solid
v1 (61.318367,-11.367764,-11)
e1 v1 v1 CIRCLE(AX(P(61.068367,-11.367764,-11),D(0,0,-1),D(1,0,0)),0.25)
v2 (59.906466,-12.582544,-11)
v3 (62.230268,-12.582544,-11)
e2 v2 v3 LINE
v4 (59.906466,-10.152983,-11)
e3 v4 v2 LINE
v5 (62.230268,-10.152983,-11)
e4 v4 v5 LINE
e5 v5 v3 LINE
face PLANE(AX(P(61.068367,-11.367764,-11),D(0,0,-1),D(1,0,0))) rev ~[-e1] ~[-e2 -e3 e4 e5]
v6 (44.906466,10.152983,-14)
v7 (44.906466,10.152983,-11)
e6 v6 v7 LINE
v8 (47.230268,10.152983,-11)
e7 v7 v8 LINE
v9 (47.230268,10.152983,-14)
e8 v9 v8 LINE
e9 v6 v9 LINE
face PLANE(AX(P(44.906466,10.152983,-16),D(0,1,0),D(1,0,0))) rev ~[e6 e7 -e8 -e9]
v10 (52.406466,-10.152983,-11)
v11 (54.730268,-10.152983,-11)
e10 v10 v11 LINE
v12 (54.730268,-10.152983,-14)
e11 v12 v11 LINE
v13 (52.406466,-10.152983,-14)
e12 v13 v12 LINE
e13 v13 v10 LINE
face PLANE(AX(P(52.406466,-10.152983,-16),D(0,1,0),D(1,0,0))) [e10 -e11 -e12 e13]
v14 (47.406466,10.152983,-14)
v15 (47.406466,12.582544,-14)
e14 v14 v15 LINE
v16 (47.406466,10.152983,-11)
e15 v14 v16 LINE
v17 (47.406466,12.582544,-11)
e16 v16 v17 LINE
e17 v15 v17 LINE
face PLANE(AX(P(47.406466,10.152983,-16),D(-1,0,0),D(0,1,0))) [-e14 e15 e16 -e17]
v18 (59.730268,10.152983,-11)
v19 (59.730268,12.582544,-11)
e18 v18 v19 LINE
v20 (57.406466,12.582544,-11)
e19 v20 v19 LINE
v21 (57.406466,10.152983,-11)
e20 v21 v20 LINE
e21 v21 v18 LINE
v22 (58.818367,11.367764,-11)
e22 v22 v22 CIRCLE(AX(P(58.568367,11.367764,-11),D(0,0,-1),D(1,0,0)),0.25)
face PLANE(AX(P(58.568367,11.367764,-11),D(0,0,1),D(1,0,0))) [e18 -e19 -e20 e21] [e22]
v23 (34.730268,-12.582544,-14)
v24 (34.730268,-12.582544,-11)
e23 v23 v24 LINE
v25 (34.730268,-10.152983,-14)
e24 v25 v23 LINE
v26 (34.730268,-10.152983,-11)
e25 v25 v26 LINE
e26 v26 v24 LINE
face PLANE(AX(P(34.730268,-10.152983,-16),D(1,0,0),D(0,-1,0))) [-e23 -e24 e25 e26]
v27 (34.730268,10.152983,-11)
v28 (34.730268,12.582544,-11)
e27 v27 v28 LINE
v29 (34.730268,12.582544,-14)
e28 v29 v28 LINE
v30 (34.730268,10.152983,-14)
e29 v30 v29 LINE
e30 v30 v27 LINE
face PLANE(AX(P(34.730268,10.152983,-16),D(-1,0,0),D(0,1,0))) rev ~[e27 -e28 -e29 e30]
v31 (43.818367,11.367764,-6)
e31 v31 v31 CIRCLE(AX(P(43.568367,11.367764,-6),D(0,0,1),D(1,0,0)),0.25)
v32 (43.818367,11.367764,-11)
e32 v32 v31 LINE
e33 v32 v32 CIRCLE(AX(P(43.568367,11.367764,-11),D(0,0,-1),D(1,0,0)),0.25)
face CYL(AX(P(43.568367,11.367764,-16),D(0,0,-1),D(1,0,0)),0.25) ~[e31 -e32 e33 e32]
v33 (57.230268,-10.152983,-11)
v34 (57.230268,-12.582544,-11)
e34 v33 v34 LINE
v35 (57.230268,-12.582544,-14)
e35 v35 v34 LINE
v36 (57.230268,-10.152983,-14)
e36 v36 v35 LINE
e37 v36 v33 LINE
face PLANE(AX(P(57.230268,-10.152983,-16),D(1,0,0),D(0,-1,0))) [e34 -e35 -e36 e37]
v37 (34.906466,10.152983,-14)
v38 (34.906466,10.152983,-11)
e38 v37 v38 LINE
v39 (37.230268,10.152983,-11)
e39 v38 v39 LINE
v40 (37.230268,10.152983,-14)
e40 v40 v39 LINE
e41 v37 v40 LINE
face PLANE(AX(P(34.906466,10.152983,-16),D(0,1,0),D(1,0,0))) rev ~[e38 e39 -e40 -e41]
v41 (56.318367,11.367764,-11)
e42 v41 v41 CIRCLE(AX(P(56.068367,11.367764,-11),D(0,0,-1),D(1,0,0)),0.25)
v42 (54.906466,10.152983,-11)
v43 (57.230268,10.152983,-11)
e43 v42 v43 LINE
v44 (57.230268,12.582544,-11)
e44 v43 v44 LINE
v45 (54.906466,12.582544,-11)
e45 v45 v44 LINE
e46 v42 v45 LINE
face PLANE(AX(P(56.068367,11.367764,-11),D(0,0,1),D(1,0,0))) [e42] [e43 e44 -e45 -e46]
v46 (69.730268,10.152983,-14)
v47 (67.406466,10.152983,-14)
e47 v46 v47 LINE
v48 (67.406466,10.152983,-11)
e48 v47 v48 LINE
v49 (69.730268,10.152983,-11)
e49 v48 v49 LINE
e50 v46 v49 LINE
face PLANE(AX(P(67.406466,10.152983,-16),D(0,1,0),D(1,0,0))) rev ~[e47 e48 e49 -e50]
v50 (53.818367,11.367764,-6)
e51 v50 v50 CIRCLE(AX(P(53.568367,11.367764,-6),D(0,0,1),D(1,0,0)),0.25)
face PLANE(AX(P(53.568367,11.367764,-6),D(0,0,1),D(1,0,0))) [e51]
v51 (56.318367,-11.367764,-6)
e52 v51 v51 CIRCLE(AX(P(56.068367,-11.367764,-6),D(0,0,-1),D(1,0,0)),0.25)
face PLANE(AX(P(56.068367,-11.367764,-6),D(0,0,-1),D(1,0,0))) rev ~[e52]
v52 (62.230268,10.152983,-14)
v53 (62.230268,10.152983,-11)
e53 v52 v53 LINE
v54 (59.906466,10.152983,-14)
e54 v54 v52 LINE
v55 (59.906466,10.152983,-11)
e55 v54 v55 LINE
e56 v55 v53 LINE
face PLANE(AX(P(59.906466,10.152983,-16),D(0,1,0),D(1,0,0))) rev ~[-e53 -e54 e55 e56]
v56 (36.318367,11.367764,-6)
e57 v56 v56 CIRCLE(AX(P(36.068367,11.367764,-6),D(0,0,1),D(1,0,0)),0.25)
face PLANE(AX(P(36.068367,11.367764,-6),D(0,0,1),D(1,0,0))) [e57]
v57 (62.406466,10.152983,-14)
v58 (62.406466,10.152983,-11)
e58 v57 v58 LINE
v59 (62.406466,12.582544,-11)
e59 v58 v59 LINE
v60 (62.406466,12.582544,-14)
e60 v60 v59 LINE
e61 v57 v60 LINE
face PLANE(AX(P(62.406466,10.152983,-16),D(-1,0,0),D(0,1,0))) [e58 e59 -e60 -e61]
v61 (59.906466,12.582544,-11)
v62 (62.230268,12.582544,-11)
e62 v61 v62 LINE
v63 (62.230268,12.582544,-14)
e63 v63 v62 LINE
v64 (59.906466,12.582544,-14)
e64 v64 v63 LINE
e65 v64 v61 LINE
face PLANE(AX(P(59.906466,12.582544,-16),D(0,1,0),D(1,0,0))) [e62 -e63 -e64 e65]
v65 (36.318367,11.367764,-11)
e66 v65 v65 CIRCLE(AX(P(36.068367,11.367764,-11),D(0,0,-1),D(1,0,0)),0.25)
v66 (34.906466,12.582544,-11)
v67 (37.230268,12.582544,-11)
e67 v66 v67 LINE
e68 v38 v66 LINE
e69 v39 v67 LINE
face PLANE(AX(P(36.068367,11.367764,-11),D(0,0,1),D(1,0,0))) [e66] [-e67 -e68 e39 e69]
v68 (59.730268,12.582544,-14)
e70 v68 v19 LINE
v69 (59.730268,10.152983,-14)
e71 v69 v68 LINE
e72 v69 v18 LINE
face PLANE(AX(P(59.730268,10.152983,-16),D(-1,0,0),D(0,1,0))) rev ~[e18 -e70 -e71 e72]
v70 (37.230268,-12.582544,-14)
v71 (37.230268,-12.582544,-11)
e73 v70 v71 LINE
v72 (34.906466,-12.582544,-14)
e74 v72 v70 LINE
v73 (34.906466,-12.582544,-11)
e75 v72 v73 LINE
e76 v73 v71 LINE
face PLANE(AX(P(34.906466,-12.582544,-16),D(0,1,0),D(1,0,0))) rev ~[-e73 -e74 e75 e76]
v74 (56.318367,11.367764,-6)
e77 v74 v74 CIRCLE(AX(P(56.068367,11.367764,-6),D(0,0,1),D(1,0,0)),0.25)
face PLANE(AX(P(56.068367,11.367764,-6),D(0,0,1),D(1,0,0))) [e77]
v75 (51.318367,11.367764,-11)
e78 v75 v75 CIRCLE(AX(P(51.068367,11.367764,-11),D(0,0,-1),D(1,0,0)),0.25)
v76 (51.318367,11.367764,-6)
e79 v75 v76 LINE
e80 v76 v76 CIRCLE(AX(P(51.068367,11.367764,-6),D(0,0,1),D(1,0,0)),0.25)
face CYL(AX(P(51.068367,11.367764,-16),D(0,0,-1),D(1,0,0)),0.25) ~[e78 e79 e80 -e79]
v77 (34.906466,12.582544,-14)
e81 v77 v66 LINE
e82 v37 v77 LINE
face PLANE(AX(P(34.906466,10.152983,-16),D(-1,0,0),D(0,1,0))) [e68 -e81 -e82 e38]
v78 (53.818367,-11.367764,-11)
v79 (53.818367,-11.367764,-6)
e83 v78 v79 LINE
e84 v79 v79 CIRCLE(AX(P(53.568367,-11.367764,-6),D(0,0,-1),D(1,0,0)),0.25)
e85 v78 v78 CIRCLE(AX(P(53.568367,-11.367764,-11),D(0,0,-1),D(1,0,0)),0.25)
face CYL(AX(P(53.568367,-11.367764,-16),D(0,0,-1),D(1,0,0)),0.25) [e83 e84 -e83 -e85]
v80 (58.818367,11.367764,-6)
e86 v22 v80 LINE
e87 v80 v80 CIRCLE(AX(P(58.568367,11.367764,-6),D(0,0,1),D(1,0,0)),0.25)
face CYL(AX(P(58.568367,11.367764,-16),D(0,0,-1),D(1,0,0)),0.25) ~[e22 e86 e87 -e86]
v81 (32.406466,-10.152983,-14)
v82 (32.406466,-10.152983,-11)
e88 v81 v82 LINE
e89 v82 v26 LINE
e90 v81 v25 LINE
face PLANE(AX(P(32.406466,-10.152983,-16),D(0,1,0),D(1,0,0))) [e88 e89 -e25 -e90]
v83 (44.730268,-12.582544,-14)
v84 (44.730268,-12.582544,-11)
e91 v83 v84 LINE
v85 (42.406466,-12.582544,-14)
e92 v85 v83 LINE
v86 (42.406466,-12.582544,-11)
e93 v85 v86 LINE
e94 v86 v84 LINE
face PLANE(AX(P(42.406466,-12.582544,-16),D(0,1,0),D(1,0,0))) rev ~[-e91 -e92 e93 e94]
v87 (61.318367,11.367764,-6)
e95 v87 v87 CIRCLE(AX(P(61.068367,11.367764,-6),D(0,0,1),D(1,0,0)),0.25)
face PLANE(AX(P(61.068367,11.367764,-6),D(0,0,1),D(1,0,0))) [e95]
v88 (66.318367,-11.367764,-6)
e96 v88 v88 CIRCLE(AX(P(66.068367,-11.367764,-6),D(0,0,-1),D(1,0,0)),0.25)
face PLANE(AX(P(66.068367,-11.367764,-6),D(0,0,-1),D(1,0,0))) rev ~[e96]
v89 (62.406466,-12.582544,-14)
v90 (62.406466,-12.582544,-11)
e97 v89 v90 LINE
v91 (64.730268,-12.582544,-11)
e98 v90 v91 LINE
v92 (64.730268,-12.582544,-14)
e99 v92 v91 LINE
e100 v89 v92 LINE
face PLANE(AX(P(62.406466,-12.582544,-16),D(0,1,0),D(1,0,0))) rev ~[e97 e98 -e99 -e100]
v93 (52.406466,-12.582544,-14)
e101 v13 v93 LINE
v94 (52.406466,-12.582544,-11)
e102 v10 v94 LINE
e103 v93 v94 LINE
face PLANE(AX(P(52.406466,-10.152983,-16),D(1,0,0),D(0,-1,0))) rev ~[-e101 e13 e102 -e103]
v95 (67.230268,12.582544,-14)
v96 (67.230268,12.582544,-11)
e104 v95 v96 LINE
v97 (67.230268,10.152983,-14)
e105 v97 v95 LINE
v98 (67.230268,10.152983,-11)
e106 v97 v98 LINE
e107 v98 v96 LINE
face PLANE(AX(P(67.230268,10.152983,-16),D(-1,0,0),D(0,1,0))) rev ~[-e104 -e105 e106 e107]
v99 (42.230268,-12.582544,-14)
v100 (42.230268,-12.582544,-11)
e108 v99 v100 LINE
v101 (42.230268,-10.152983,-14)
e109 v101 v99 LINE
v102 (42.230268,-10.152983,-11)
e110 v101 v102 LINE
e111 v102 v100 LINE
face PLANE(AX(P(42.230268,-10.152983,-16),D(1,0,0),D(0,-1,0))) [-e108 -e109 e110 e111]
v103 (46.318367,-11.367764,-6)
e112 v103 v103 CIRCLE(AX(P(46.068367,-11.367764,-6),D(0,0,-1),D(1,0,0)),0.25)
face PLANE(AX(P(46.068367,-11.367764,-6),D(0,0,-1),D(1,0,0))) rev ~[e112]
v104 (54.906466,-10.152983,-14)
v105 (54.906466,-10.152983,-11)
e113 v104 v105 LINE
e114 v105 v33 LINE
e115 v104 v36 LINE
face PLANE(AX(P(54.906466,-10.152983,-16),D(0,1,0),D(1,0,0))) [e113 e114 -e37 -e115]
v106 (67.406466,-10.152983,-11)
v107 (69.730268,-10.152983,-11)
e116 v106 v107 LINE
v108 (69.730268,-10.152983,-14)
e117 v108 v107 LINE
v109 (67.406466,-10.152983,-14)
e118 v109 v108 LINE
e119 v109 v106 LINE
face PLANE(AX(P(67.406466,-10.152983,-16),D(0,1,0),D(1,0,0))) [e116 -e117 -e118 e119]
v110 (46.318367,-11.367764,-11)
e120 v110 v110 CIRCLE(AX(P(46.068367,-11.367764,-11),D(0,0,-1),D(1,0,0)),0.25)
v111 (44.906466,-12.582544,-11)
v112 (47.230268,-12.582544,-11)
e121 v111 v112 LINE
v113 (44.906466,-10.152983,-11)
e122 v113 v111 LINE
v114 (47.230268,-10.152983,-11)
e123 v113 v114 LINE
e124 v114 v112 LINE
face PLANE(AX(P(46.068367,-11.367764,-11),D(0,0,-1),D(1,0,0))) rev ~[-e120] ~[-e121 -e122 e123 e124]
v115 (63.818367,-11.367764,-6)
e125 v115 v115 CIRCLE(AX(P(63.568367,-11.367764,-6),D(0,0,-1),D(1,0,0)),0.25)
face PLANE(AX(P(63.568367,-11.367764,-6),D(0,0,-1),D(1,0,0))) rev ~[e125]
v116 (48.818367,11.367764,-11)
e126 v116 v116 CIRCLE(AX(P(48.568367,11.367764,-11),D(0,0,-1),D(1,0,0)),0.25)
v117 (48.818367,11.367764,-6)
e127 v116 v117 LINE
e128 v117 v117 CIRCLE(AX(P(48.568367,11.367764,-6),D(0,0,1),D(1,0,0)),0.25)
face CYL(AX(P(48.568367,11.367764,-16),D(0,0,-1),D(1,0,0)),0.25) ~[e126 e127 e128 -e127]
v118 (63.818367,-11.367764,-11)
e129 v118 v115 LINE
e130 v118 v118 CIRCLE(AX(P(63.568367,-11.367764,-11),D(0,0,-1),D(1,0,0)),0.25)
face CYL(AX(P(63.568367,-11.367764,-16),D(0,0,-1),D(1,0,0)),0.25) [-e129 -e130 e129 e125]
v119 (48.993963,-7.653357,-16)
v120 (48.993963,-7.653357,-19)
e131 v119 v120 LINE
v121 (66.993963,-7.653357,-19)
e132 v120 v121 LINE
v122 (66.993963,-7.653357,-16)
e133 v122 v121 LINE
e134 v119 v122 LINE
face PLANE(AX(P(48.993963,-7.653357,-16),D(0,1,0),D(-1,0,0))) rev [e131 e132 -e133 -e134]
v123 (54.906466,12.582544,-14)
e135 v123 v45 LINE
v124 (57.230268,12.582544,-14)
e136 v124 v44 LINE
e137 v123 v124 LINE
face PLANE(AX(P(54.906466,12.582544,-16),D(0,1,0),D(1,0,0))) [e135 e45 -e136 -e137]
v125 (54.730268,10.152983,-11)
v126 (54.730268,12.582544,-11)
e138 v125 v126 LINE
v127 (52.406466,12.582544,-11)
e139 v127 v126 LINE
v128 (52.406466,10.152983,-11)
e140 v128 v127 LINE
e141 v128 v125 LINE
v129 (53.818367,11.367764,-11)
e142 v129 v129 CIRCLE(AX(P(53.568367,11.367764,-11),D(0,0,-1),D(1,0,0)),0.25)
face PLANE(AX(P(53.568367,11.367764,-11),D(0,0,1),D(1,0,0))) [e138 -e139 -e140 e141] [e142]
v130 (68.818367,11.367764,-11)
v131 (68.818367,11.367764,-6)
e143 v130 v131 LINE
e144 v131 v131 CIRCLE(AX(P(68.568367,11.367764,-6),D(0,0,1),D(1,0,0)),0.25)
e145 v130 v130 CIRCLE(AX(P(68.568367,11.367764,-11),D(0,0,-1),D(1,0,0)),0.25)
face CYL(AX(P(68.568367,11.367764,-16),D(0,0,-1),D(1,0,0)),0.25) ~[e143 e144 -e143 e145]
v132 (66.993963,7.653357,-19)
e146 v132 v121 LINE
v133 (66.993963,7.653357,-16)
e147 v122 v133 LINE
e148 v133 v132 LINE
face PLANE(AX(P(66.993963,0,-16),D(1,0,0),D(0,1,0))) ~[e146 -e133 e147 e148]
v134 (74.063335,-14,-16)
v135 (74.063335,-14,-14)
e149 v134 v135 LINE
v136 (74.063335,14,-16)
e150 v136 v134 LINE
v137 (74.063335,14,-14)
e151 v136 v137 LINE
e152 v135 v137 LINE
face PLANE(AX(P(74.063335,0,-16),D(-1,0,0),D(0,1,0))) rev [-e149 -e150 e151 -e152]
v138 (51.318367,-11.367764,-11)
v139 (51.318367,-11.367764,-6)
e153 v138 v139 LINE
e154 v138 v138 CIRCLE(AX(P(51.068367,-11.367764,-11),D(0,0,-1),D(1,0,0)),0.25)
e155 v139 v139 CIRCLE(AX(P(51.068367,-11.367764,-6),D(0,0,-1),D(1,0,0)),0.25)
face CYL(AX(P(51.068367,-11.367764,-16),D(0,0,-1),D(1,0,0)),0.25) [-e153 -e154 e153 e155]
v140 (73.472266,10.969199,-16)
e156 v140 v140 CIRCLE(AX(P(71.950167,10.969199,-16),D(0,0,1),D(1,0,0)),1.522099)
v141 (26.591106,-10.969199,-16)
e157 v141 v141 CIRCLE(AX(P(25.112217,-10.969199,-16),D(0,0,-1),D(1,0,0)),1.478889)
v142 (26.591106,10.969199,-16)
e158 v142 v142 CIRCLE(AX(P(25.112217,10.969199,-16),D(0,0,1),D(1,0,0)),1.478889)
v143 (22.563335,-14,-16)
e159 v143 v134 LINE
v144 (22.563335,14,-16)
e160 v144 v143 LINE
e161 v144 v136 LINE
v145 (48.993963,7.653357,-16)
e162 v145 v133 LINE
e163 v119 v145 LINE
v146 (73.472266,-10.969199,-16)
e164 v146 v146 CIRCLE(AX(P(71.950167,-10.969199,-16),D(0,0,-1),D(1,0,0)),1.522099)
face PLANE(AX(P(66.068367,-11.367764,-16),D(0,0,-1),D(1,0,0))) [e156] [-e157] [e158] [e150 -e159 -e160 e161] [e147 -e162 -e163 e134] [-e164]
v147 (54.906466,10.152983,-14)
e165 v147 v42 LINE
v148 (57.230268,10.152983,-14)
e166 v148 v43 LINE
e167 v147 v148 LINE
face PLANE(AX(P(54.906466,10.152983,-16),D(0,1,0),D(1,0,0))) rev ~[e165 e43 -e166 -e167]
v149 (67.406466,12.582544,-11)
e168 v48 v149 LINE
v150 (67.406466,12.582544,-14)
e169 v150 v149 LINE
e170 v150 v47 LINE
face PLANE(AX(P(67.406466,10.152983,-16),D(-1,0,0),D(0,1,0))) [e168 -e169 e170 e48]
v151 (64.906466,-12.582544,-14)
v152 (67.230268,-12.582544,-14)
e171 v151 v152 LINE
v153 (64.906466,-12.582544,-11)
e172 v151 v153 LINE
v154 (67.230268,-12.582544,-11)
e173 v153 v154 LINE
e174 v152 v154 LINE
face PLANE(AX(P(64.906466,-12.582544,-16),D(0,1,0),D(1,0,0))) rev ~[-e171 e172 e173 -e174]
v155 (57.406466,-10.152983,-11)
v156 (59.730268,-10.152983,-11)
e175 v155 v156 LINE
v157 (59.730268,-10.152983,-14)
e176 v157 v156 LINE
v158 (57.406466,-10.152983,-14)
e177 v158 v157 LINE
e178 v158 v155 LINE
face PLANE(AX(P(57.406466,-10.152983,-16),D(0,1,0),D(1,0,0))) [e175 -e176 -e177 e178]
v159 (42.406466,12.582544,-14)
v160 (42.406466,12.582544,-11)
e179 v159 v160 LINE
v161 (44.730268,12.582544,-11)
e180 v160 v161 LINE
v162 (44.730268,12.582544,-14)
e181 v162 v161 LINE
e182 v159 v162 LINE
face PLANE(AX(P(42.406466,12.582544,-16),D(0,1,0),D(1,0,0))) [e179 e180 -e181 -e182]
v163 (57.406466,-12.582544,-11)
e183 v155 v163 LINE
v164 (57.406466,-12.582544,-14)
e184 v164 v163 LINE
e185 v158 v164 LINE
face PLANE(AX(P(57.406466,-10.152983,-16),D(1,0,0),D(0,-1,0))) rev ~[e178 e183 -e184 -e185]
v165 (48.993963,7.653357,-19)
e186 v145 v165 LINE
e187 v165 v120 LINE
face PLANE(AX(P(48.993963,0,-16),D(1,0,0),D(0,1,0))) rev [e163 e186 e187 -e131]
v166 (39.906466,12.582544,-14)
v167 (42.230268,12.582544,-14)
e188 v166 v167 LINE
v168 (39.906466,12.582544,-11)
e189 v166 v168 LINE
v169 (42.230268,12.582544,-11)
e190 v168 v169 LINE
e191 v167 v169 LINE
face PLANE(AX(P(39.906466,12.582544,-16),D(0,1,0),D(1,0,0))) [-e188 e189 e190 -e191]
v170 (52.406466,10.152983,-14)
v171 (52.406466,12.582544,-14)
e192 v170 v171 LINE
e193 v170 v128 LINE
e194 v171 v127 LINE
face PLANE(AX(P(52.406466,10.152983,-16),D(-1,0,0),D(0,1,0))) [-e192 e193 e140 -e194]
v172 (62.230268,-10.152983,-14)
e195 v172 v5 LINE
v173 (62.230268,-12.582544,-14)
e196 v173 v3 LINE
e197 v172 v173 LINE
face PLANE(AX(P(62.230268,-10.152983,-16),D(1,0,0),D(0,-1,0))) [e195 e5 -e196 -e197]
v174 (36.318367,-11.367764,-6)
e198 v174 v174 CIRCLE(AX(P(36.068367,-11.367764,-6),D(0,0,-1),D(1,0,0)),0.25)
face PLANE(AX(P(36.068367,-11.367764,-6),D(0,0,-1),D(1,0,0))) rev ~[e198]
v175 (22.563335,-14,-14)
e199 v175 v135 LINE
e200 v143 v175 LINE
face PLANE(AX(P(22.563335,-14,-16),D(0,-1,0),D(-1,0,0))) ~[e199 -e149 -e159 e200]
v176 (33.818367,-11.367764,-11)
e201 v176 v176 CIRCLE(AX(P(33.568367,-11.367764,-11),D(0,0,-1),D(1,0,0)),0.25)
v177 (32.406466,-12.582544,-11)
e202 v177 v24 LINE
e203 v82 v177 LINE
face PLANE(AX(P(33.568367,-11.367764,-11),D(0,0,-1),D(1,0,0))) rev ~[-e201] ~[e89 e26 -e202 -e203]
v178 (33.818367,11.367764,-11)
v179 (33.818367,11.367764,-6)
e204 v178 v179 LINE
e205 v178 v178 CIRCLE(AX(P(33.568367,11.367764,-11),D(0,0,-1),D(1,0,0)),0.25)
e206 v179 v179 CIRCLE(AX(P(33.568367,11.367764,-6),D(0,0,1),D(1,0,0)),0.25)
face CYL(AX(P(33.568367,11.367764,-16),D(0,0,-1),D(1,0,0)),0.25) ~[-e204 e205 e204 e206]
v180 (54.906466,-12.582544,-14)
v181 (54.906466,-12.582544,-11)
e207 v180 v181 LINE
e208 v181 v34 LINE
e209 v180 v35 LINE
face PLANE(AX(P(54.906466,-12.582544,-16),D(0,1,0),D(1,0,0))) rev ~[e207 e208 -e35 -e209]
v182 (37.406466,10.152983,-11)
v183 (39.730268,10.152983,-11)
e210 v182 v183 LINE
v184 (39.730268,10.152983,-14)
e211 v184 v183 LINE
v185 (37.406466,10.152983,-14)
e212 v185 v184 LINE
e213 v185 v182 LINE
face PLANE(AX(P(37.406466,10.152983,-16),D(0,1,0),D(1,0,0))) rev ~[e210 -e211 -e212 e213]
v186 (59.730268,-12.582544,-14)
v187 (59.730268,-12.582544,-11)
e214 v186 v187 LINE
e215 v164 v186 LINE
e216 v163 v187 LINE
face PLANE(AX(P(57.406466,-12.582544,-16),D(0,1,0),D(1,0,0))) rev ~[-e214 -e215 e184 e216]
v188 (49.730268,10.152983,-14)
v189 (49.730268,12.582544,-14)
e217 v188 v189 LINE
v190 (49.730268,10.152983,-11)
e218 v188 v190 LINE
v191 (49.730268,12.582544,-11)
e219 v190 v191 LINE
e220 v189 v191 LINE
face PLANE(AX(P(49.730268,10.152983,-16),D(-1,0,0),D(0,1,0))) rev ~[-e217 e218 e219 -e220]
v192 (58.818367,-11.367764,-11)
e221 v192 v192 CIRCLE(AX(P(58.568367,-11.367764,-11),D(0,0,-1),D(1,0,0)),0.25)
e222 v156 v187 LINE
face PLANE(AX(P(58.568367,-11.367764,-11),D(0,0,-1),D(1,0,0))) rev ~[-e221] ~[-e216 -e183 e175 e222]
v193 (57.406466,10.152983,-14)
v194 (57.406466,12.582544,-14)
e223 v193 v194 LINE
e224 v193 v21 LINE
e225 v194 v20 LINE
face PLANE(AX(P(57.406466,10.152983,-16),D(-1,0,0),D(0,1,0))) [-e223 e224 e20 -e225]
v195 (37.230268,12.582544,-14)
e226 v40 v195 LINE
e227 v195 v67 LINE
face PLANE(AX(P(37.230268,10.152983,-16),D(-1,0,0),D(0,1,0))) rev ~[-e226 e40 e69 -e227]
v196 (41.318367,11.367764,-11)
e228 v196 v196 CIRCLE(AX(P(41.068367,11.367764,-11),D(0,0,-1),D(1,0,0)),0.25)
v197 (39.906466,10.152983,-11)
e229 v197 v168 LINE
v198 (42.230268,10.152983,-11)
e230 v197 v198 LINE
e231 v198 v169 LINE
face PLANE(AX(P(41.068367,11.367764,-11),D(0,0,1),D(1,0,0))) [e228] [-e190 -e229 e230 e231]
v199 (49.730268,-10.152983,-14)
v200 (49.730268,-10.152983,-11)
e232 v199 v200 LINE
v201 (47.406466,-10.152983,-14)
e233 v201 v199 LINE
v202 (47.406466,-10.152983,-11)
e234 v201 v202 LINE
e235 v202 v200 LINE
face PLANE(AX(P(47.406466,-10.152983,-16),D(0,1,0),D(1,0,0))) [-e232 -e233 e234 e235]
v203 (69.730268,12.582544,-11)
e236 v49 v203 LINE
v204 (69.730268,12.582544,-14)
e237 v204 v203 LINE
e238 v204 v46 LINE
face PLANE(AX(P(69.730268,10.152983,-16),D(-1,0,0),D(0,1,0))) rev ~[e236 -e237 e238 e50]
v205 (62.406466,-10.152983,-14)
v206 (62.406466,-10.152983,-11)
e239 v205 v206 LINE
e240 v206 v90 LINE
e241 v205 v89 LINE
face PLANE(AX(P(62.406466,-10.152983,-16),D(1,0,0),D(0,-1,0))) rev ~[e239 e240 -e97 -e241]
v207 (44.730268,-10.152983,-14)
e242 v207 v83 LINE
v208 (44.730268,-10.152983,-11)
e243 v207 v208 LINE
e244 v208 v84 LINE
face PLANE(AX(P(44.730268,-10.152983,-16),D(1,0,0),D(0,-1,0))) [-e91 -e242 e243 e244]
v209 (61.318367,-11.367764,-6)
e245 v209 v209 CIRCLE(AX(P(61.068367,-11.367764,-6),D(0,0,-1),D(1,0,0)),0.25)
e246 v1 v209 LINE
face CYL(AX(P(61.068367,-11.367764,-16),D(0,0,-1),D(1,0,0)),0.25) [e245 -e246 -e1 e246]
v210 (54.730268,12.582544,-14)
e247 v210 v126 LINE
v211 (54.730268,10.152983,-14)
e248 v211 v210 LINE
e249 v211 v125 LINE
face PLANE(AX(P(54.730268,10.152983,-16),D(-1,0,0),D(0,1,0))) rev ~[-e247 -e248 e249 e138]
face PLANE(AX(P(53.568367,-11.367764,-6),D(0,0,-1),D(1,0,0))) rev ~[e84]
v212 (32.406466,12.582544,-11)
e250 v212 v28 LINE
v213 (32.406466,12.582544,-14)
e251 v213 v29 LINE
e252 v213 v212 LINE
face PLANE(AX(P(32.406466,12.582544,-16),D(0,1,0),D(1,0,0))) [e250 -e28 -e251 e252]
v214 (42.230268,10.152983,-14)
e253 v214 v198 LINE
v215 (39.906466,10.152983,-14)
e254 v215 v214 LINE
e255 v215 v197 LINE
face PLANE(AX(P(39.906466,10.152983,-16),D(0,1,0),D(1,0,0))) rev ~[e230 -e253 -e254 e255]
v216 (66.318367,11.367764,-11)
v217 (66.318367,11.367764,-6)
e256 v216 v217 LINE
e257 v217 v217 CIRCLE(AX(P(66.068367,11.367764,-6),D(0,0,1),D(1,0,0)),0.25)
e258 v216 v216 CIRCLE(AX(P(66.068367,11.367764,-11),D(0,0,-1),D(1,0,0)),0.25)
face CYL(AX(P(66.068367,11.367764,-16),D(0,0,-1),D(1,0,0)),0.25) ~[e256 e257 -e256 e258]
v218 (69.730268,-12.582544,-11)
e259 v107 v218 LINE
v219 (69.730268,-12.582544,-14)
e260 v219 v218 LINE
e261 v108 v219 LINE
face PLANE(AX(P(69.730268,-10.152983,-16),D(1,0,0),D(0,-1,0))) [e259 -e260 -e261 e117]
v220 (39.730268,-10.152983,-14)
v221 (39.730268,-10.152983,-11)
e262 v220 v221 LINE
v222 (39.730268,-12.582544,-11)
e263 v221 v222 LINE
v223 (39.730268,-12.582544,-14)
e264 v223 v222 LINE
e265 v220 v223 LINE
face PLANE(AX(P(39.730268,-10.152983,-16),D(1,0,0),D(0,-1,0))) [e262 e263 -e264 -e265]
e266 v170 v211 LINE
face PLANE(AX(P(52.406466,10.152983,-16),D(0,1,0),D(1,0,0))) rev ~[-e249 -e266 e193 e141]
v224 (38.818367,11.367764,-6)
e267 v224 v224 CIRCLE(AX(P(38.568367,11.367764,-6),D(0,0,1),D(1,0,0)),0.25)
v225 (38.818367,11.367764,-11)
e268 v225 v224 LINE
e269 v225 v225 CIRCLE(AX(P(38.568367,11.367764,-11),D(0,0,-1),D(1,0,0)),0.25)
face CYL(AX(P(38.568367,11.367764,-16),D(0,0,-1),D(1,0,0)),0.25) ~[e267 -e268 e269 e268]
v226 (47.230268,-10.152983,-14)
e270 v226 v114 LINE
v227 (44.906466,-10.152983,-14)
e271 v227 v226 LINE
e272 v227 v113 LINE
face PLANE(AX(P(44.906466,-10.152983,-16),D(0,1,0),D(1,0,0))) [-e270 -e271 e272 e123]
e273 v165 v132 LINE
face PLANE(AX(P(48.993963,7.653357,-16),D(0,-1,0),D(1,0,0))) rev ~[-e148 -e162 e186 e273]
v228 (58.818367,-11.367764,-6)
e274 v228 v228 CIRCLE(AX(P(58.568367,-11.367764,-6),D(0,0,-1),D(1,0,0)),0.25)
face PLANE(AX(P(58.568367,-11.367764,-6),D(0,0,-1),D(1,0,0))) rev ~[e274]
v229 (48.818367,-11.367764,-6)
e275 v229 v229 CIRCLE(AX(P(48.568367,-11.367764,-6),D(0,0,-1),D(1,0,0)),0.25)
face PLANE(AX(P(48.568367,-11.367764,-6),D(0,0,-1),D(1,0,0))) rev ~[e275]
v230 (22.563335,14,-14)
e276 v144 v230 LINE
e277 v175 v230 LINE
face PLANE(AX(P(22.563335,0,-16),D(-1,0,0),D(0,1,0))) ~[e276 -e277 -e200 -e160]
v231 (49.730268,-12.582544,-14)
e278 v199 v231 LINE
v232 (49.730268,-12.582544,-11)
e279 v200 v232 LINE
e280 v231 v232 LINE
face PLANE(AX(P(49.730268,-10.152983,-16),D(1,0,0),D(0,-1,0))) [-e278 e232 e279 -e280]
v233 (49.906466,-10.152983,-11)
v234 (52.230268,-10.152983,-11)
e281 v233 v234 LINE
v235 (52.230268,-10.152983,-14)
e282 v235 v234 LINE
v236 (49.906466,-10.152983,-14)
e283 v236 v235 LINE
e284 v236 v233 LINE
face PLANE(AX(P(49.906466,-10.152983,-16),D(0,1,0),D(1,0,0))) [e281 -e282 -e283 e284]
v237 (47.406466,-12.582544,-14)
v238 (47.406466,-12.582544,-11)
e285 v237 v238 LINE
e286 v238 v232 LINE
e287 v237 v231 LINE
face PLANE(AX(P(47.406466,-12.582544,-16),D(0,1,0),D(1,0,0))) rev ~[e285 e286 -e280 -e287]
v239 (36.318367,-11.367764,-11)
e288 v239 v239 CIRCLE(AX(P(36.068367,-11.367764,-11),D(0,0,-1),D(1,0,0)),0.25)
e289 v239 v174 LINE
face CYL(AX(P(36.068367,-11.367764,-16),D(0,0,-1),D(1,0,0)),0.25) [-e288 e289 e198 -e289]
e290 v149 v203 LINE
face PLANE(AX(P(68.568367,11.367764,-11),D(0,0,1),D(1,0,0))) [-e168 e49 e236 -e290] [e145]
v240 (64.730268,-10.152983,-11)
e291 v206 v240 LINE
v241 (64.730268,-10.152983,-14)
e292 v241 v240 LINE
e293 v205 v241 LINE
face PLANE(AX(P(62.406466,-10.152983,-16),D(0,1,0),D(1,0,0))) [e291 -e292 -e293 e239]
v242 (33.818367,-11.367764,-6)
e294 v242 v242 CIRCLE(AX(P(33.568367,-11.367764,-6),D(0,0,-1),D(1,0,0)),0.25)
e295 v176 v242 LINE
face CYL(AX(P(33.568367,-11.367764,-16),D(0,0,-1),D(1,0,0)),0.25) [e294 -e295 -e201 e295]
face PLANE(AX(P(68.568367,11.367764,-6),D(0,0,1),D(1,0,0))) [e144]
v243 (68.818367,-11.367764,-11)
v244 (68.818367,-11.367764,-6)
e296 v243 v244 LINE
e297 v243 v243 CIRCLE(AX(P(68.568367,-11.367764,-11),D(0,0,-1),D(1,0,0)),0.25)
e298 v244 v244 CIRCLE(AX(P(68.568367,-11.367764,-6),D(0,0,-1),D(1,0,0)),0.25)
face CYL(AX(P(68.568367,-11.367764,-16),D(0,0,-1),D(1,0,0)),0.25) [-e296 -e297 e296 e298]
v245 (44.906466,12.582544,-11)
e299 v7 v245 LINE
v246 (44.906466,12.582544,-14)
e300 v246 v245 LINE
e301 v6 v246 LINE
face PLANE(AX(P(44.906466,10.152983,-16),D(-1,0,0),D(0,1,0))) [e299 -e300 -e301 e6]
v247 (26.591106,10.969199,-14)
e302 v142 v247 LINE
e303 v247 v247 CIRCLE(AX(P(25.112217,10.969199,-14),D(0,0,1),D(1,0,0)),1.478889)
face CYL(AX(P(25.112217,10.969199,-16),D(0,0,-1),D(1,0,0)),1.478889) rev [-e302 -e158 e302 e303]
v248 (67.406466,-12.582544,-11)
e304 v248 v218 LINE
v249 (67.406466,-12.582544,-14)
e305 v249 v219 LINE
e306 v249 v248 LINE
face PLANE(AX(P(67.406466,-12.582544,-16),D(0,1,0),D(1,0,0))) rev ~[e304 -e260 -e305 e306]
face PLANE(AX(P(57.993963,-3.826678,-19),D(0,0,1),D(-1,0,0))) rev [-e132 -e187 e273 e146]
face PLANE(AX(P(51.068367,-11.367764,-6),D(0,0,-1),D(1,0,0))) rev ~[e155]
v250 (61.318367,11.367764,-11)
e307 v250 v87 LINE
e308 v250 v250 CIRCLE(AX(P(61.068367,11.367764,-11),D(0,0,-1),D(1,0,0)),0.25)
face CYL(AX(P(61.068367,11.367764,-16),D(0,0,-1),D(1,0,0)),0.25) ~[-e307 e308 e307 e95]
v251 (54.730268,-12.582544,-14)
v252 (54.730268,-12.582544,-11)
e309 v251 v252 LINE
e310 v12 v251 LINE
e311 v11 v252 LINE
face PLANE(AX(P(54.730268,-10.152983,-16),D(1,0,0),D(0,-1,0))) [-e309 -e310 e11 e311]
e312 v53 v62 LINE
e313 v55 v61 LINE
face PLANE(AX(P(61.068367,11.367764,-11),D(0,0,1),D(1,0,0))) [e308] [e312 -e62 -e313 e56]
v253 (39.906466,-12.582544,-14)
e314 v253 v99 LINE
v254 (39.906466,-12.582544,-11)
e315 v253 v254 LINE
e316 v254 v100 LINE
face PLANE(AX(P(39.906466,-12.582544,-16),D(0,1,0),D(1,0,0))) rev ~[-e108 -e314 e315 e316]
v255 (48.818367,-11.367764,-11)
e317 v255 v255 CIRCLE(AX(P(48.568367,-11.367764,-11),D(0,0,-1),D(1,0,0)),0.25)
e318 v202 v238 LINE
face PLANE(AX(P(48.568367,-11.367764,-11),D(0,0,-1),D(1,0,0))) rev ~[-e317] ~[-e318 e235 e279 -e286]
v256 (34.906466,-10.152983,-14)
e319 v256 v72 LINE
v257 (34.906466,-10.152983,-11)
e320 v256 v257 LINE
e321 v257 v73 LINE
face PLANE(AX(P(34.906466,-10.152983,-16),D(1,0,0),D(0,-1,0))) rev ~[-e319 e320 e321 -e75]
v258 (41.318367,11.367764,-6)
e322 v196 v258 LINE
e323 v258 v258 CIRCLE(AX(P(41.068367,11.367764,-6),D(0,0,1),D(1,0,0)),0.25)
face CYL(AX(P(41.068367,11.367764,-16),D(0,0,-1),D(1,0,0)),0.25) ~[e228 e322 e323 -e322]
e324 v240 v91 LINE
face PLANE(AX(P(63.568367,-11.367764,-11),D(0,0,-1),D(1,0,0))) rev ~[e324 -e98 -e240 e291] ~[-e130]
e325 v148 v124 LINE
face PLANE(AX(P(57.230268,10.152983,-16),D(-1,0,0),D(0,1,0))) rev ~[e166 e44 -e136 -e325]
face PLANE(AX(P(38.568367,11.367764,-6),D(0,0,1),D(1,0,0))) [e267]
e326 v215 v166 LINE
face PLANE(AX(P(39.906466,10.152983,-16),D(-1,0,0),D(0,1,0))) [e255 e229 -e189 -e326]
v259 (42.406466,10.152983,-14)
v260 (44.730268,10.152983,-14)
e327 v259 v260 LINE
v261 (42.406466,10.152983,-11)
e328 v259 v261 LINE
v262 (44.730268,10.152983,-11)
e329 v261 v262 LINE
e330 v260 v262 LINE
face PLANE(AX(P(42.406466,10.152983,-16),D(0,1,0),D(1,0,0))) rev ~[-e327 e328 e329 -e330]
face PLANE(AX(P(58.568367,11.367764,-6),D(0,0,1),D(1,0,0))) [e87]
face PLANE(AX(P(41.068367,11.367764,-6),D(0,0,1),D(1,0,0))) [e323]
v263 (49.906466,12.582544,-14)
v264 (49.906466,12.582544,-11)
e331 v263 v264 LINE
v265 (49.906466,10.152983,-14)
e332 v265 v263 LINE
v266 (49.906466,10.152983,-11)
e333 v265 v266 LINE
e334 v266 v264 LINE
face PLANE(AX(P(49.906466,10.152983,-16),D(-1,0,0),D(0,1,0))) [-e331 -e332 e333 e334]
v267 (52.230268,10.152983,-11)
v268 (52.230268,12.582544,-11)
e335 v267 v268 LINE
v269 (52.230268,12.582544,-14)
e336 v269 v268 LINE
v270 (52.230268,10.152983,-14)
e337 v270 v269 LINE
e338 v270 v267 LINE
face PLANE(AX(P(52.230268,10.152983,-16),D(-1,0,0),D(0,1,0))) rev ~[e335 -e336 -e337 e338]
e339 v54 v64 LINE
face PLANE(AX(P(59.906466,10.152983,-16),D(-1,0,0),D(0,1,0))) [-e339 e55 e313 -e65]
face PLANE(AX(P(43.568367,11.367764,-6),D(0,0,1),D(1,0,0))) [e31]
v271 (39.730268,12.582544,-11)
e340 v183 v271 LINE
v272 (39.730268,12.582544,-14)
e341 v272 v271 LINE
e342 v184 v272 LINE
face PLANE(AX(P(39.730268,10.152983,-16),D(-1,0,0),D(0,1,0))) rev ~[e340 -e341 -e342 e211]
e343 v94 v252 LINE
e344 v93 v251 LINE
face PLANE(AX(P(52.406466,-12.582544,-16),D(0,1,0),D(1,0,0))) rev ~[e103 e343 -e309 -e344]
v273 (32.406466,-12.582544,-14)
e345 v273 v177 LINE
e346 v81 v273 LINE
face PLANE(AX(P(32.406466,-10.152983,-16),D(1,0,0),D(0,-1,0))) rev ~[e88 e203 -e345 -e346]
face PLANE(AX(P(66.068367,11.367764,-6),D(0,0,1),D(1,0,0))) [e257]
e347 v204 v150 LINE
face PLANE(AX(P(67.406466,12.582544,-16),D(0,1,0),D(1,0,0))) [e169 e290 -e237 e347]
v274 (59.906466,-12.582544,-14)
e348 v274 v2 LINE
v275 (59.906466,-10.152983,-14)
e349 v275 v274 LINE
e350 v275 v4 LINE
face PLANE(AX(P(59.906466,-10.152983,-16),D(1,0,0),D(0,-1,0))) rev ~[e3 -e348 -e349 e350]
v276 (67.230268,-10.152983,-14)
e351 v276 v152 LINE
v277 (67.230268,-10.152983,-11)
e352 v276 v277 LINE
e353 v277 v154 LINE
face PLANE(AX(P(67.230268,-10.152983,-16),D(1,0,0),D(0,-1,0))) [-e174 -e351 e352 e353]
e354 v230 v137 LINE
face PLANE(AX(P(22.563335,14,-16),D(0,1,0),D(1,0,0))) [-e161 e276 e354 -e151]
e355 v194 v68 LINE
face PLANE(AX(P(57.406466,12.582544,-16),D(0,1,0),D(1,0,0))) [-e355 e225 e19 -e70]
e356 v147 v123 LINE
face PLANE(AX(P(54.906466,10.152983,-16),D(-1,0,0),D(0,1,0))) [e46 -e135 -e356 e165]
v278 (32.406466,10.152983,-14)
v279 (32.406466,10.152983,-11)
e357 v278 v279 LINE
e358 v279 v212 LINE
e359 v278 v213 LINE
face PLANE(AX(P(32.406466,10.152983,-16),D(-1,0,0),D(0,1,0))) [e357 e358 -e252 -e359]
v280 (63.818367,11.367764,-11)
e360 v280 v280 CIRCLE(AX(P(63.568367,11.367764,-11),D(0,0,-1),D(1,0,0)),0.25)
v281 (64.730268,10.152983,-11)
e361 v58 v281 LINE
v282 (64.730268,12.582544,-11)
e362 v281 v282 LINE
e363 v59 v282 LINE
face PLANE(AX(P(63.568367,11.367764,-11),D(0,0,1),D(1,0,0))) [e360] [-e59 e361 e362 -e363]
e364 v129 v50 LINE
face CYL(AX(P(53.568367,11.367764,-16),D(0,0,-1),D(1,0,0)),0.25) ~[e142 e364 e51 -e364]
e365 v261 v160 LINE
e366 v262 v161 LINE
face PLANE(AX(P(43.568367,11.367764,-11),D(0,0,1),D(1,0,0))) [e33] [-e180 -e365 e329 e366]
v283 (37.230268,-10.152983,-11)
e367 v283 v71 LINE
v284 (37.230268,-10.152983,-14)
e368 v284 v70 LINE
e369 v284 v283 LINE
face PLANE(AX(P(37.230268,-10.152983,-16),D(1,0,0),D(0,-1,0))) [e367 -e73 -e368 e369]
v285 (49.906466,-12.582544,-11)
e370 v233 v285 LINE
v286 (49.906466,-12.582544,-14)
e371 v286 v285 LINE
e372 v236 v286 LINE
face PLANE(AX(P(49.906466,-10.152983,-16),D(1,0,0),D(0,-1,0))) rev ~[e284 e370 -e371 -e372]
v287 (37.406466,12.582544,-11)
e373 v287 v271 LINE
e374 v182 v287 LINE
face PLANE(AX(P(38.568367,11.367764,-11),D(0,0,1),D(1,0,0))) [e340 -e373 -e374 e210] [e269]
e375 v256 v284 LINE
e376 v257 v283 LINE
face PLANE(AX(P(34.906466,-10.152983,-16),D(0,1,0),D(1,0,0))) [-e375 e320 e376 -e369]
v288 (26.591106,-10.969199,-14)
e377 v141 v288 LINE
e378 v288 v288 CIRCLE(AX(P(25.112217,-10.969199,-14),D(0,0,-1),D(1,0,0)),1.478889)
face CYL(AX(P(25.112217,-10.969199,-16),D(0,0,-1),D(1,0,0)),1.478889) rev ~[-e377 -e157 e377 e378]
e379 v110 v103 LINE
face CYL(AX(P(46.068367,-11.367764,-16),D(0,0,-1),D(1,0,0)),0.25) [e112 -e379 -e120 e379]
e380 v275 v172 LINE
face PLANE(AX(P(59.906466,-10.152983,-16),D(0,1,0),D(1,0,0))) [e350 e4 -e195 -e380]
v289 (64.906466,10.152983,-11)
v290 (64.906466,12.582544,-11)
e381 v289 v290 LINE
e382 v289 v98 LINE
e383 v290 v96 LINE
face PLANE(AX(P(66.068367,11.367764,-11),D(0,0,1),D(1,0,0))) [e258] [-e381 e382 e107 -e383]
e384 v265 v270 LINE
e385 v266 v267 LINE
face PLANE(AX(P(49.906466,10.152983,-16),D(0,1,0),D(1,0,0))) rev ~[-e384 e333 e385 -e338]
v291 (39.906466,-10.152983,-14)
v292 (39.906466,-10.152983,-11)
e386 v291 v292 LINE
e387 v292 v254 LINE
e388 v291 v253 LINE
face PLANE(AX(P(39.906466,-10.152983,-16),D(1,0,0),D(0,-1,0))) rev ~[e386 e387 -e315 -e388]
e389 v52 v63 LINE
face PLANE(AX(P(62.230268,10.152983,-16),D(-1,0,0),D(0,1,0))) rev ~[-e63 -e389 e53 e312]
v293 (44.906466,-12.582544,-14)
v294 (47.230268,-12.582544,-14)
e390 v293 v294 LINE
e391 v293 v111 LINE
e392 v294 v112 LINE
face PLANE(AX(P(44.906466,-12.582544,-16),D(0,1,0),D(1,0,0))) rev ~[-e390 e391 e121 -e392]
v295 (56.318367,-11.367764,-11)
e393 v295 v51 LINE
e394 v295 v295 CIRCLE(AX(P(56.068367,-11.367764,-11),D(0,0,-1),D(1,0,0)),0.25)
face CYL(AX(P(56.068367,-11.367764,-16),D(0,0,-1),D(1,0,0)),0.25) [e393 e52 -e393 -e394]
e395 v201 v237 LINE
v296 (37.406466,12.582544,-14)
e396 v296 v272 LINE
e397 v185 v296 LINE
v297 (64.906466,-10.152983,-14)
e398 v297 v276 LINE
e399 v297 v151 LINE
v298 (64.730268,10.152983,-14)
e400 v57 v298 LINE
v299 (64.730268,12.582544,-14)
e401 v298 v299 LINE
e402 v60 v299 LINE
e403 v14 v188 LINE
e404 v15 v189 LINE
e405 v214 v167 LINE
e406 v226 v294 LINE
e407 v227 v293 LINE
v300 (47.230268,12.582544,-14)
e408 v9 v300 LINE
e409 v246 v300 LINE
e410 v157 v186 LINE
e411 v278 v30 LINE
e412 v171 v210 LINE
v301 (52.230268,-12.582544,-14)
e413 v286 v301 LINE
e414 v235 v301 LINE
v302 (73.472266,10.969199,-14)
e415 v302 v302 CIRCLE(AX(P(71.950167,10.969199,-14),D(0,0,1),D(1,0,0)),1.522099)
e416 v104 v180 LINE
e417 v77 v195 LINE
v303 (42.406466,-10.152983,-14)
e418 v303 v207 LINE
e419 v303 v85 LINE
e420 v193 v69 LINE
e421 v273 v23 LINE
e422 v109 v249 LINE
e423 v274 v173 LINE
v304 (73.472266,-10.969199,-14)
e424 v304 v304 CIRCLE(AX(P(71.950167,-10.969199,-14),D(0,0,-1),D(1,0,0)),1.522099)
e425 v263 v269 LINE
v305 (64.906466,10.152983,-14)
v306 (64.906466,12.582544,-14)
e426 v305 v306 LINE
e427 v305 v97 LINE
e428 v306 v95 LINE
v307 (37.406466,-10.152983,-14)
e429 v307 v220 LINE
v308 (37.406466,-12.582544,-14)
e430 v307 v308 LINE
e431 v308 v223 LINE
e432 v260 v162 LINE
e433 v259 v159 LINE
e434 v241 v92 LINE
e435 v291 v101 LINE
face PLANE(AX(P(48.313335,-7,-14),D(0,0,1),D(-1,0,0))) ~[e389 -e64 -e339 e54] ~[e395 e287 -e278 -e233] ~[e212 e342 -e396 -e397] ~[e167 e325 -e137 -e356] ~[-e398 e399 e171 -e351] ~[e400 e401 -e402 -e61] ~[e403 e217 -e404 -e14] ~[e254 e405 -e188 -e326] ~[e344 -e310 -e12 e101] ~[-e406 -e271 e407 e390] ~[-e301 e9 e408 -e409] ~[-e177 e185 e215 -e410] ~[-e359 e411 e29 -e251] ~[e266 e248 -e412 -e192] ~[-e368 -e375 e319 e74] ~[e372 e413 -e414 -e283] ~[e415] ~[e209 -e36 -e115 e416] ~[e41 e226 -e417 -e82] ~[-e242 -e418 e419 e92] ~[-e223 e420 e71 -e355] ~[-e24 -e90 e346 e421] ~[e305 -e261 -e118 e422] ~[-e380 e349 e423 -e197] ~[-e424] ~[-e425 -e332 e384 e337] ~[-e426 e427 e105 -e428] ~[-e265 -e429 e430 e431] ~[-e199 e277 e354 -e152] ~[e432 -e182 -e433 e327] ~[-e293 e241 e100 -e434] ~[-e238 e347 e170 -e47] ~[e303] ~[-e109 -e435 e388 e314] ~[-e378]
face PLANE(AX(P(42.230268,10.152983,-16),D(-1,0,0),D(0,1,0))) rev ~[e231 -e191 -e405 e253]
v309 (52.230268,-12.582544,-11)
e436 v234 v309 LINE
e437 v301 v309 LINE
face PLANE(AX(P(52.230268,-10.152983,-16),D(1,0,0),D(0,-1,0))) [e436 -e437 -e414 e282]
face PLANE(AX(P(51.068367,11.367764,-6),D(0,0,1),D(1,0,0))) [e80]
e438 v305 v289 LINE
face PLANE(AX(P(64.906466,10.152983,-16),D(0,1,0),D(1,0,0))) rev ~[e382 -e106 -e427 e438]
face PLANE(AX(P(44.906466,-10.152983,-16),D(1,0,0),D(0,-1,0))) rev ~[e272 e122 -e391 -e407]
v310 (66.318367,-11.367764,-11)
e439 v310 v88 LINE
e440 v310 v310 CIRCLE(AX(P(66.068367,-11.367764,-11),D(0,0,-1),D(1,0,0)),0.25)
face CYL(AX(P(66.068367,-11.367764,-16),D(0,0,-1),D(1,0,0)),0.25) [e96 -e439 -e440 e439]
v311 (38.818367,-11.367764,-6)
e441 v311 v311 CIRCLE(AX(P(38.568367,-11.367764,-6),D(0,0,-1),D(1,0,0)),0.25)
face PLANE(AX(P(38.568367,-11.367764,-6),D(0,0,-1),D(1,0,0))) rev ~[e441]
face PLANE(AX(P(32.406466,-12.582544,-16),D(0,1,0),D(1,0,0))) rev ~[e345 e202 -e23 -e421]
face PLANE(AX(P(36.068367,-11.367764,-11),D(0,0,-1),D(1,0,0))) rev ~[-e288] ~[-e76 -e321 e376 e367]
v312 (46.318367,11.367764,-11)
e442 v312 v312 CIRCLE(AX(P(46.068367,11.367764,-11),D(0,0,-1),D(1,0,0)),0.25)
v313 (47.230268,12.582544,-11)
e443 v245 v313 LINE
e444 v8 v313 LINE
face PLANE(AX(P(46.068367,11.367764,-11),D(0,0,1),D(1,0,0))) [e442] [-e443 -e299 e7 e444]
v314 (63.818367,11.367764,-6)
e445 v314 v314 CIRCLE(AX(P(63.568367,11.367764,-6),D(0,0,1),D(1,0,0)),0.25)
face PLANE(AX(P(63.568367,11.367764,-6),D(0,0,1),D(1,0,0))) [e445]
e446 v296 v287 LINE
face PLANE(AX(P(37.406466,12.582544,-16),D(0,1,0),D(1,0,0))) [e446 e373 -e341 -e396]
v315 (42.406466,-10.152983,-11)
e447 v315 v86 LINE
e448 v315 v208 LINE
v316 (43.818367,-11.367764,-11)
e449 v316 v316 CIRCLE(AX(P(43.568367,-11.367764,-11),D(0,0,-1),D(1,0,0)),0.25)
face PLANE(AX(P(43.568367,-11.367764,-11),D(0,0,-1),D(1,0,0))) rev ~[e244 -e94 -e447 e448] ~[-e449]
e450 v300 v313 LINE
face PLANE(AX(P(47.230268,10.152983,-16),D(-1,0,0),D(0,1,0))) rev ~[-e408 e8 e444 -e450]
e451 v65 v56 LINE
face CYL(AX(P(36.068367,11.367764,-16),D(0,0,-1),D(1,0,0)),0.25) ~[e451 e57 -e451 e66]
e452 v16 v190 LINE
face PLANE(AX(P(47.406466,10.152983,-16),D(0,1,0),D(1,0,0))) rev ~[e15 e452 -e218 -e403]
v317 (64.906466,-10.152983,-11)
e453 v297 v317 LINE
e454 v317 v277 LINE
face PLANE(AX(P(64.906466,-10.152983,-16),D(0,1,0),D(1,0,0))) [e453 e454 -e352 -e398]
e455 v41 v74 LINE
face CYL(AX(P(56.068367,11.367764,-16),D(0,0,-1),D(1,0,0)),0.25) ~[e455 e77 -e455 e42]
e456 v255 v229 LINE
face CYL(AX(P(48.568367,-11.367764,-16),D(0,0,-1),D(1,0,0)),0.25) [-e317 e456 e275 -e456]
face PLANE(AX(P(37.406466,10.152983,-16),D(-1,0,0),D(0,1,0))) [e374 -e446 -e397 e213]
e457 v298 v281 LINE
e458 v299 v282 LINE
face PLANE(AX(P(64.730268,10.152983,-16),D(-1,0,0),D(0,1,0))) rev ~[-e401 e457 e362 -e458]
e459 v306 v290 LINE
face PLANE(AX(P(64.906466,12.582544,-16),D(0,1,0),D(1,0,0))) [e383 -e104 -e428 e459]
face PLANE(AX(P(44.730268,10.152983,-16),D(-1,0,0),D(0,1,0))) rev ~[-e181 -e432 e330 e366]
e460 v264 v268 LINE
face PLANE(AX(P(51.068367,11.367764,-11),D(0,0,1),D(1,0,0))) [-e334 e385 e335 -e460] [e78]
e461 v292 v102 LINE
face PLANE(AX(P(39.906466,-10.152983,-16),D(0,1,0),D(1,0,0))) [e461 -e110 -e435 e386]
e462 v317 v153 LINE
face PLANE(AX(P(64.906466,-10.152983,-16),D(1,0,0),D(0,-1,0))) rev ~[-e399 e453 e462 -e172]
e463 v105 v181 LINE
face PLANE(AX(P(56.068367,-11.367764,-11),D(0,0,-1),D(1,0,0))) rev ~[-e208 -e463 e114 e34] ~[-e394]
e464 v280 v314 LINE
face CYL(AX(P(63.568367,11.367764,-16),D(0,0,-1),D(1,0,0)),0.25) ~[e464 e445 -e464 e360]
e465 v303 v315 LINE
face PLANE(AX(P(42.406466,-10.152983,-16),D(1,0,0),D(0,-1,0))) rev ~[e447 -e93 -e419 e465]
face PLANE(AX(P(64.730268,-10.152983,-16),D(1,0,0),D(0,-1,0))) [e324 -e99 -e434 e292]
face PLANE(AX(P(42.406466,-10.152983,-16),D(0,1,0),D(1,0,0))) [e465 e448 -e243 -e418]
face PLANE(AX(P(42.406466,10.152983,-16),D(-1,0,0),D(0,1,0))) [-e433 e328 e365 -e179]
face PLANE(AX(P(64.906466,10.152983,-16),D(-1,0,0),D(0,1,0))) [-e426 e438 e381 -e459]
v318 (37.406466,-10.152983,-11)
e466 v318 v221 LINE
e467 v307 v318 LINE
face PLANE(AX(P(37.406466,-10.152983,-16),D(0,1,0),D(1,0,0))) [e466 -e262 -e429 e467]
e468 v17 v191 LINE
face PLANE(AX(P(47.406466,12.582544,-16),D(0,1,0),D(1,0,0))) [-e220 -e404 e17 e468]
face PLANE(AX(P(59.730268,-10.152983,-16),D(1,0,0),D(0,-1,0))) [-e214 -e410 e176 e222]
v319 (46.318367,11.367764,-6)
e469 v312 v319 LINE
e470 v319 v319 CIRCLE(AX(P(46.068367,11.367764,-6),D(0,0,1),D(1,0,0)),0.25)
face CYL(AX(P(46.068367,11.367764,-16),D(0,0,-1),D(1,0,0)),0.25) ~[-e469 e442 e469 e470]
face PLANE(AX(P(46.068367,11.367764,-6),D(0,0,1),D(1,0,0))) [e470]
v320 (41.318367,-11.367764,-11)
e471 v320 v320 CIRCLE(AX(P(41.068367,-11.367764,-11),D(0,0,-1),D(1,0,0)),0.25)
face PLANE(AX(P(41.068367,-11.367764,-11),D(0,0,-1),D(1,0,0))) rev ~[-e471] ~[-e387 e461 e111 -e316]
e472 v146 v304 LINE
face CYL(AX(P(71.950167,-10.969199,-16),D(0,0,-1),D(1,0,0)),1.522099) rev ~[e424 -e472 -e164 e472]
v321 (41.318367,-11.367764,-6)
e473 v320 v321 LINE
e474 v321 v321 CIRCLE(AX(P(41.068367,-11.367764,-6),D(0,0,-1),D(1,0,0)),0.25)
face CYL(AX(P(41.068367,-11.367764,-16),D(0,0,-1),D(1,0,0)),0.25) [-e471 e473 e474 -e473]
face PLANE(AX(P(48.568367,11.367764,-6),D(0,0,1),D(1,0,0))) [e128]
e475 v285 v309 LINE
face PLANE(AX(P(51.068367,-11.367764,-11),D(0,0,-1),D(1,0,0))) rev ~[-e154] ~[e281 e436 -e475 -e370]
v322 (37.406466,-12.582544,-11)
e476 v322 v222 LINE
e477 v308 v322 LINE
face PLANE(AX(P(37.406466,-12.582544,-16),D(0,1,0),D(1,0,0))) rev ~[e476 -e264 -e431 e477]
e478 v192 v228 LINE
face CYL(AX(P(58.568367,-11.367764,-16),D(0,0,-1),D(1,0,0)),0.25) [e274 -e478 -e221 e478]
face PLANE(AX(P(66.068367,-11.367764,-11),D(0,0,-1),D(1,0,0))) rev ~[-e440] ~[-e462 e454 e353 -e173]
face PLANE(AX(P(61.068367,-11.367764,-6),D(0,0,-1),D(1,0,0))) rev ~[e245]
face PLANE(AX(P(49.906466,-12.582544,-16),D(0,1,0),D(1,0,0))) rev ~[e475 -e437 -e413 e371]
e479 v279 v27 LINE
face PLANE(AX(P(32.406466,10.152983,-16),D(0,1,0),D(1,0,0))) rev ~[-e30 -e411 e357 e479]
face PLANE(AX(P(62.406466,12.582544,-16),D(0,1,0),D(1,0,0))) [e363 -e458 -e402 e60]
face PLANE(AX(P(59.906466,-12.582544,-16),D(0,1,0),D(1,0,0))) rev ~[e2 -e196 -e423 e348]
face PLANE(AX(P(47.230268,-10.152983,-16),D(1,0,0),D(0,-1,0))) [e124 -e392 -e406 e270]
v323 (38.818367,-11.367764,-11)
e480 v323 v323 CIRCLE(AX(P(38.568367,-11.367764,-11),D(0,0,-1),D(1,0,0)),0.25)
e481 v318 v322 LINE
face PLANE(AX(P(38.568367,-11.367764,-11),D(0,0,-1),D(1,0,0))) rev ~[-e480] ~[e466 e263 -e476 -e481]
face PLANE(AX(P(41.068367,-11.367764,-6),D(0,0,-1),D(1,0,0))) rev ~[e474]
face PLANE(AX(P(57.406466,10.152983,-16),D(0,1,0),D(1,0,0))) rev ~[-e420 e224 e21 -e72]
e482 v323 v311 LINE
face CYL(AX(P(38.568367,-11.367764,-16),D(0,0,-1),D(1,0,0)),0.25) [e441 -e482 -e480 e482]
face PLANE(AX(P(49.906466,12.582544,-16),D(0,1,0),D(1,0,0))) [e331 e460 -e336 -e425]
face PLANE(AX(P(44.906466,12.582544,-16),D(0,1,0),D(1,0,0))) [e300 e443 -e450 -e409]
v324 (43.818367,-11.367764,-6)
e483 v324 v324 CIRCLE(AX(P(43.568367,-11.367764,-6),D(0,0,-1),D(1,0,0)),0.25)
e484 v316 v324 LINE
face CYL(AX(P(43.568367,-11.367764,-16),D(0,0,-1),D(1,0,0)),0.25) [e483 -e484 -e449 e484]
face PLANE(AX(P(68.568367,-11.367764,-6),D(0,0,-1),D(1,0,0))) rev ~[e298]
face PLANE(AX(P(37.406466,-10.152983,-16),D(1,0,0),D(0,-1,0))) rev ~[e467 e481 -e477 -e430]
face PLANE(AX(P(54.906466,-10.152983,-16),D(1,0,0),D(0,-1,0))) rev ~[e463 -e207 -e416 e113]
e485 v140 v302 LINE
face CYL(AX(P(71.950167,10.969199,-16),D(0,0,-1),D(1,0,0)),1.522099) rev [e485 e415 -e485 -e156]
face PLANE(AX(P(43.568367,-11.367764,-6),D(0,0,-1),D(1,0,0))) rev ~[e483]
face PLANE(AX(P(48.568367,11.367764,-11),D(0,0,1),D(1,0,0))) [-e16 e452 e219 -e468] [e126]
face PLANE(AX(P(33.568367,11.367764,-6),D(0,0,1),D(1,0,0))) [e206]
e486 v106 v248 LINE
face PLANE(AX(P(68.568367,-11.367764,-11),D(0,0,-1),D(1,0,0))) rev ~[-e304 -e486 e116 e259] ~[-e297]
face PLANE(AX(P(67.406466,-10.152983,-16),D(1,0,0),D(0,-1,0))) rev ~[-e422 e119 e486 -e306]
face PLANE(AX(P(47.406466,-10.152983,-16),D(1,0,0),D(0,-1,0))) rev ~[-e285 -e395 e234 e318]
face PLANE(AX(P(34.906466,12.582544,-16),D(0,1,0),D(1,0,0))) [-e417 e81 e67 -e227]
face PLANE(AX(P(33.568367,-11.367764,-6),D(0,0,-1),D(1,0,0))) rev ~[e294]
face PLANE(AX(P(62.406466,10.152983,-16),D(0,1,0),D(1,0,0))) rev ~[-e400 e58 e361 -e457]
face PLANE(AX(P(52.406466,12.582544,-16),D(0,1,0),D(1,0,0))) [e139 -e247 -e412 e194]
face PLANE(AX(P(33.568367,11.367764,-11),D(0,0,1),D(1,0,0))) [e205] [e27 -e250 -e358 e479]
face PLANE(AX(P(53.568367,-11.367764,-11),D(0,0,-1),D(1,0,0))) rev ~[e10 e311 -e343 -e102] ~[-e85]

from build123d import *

# Parameters (mm, degrees)
SKETCH024_W                = 51.5
SKETCH024_H                = 14
SKETCH024_R                = 1.522099
SKETCH024_R_2              = 1.478889
PAD010_DEPTH               = 2
SKETCH025_W                = 18
SKETCH025_H                = 7.653357
PAD011_DEPTH               = 3
SKETCH026_W                = 2.323802
SKETCH026_H                = 2.429561
PAD012_DEPTH               = 5
SKETCH027_R                = 0.25
PAD013_DEPTH               = 10
SKETCH026_MIRRORED008_2_W  = 2.323802
SKETCH026_MIRRORED008_2_H  = 2.429561
PAD012_MIRRORED008_2_DEPTH = 5
SKETCH027_MIRRORED008_2_R  = 0.25
PAD013_MIRRORED008_2_DEPTH = 10
LINEARPATTERN_COUNT        = 15
LINEARPATTERN_PITCH        = 2.5


with BuildPart() as part:
    # Sketch024 → Pad010 (new body)
    with BuildSketch(Plane.XY):
        with Locations((-0.6866653219, 7)):
            Rectangle(SKETCH024_W, SKETCH024_H)
        with Locations((22.950167, 10.969199)):
            Circle(SKETCH024_R, mode=Mode.SUBTRACT)
        with Locations((-23.887783, 10.969199)):
            Circle(SKETCH024_R_2, mode=Mode.SUBTRACT)
    pad010 = extrude(amount=PAD010_DEPTH)

    # Sketch025 → Pad011 (join)
    with BuildSketch(Plane.XY):
        with Locations((8.993963, 3.8266785)):
            Rectangle(SKETCH025_W, SKETCH025_H)
    pad011 = extrude(amount=-PAD011_DEPTH)

    # Sketch026 → Pad012 (join)
    with BuildSketch(Plane.XY):
        with Locations((19.568367, 11.3677635)):
            Rectangle(SKETCH026_W, SKETCH026_H)
    pad012 = extrude(amount=PAD012_DEPTH)

    # Sketch027 → Pad013 (join)
    with BuildSketch(Plane.XY):
        with Locations((19.568367, 11.3677635)):
            Circle(SKETCH027_R)
    pad013 = extrude(amount=PAD013_DEPTH)

    # Mirrored007: Pad010, Pad011 across Sketch024 H_Axis
    add(pad010.mirror(Plane.ZX))
    add(pad011.mirror(Plane.ZX))

    # Sketch026 Mirrored008 2 → Pad012 Mirrored008 2 (add)
    with BuildSketch(Plane(origin=(0, 0, 0), x_dir=(1, 0, 0), z_dir=(0, 0, -1))):
        with Locations((19.568367, 11.3677635)):
            Rectangle(SKETCH026_MIRRORED008_2_W, SKETCH026_MIRRORED008_2_H)
    pad012_mirrored008_2 = extrude(amount=-PAD012_MIRRORED008_2_DEPTH)

    # Sketch027 Mirrored008 2 → Pad013 Mirrored008 2 (add)
    with BuildSketch(Plane(origin=(0, 0, 0), x_dir=(1, 0, 0), z_dir=(0, 0, -1))):
        with Locations((19.568367, 11.3677635)):
            Circle(SKETCH027_MIRRORED008_2_R)
    pad013_mirrored008_2 = extrude(amount=-PAD013_MIRRORED008_2_DEPTH)

    # LinearPattern: Pad012, Pad013, Pad012 Mirrored008 2, Pad013 Mirrored008 2 ×15
    with Locations(*[(-i * LINEARPATTERN_PITCH, 0, 0) for i in range(1, LINEARPATTERN_COUNT)]):
        add(pad012)
        add(pad013)
        add(pad012_mirrored008_2)
        add(pad013_mirrored008_2)


with BuildPart() as part_1:
    # Body004 placement: moved
    add(part.part.moved(Location((49, 0, -16))))


solid = part_1.part
